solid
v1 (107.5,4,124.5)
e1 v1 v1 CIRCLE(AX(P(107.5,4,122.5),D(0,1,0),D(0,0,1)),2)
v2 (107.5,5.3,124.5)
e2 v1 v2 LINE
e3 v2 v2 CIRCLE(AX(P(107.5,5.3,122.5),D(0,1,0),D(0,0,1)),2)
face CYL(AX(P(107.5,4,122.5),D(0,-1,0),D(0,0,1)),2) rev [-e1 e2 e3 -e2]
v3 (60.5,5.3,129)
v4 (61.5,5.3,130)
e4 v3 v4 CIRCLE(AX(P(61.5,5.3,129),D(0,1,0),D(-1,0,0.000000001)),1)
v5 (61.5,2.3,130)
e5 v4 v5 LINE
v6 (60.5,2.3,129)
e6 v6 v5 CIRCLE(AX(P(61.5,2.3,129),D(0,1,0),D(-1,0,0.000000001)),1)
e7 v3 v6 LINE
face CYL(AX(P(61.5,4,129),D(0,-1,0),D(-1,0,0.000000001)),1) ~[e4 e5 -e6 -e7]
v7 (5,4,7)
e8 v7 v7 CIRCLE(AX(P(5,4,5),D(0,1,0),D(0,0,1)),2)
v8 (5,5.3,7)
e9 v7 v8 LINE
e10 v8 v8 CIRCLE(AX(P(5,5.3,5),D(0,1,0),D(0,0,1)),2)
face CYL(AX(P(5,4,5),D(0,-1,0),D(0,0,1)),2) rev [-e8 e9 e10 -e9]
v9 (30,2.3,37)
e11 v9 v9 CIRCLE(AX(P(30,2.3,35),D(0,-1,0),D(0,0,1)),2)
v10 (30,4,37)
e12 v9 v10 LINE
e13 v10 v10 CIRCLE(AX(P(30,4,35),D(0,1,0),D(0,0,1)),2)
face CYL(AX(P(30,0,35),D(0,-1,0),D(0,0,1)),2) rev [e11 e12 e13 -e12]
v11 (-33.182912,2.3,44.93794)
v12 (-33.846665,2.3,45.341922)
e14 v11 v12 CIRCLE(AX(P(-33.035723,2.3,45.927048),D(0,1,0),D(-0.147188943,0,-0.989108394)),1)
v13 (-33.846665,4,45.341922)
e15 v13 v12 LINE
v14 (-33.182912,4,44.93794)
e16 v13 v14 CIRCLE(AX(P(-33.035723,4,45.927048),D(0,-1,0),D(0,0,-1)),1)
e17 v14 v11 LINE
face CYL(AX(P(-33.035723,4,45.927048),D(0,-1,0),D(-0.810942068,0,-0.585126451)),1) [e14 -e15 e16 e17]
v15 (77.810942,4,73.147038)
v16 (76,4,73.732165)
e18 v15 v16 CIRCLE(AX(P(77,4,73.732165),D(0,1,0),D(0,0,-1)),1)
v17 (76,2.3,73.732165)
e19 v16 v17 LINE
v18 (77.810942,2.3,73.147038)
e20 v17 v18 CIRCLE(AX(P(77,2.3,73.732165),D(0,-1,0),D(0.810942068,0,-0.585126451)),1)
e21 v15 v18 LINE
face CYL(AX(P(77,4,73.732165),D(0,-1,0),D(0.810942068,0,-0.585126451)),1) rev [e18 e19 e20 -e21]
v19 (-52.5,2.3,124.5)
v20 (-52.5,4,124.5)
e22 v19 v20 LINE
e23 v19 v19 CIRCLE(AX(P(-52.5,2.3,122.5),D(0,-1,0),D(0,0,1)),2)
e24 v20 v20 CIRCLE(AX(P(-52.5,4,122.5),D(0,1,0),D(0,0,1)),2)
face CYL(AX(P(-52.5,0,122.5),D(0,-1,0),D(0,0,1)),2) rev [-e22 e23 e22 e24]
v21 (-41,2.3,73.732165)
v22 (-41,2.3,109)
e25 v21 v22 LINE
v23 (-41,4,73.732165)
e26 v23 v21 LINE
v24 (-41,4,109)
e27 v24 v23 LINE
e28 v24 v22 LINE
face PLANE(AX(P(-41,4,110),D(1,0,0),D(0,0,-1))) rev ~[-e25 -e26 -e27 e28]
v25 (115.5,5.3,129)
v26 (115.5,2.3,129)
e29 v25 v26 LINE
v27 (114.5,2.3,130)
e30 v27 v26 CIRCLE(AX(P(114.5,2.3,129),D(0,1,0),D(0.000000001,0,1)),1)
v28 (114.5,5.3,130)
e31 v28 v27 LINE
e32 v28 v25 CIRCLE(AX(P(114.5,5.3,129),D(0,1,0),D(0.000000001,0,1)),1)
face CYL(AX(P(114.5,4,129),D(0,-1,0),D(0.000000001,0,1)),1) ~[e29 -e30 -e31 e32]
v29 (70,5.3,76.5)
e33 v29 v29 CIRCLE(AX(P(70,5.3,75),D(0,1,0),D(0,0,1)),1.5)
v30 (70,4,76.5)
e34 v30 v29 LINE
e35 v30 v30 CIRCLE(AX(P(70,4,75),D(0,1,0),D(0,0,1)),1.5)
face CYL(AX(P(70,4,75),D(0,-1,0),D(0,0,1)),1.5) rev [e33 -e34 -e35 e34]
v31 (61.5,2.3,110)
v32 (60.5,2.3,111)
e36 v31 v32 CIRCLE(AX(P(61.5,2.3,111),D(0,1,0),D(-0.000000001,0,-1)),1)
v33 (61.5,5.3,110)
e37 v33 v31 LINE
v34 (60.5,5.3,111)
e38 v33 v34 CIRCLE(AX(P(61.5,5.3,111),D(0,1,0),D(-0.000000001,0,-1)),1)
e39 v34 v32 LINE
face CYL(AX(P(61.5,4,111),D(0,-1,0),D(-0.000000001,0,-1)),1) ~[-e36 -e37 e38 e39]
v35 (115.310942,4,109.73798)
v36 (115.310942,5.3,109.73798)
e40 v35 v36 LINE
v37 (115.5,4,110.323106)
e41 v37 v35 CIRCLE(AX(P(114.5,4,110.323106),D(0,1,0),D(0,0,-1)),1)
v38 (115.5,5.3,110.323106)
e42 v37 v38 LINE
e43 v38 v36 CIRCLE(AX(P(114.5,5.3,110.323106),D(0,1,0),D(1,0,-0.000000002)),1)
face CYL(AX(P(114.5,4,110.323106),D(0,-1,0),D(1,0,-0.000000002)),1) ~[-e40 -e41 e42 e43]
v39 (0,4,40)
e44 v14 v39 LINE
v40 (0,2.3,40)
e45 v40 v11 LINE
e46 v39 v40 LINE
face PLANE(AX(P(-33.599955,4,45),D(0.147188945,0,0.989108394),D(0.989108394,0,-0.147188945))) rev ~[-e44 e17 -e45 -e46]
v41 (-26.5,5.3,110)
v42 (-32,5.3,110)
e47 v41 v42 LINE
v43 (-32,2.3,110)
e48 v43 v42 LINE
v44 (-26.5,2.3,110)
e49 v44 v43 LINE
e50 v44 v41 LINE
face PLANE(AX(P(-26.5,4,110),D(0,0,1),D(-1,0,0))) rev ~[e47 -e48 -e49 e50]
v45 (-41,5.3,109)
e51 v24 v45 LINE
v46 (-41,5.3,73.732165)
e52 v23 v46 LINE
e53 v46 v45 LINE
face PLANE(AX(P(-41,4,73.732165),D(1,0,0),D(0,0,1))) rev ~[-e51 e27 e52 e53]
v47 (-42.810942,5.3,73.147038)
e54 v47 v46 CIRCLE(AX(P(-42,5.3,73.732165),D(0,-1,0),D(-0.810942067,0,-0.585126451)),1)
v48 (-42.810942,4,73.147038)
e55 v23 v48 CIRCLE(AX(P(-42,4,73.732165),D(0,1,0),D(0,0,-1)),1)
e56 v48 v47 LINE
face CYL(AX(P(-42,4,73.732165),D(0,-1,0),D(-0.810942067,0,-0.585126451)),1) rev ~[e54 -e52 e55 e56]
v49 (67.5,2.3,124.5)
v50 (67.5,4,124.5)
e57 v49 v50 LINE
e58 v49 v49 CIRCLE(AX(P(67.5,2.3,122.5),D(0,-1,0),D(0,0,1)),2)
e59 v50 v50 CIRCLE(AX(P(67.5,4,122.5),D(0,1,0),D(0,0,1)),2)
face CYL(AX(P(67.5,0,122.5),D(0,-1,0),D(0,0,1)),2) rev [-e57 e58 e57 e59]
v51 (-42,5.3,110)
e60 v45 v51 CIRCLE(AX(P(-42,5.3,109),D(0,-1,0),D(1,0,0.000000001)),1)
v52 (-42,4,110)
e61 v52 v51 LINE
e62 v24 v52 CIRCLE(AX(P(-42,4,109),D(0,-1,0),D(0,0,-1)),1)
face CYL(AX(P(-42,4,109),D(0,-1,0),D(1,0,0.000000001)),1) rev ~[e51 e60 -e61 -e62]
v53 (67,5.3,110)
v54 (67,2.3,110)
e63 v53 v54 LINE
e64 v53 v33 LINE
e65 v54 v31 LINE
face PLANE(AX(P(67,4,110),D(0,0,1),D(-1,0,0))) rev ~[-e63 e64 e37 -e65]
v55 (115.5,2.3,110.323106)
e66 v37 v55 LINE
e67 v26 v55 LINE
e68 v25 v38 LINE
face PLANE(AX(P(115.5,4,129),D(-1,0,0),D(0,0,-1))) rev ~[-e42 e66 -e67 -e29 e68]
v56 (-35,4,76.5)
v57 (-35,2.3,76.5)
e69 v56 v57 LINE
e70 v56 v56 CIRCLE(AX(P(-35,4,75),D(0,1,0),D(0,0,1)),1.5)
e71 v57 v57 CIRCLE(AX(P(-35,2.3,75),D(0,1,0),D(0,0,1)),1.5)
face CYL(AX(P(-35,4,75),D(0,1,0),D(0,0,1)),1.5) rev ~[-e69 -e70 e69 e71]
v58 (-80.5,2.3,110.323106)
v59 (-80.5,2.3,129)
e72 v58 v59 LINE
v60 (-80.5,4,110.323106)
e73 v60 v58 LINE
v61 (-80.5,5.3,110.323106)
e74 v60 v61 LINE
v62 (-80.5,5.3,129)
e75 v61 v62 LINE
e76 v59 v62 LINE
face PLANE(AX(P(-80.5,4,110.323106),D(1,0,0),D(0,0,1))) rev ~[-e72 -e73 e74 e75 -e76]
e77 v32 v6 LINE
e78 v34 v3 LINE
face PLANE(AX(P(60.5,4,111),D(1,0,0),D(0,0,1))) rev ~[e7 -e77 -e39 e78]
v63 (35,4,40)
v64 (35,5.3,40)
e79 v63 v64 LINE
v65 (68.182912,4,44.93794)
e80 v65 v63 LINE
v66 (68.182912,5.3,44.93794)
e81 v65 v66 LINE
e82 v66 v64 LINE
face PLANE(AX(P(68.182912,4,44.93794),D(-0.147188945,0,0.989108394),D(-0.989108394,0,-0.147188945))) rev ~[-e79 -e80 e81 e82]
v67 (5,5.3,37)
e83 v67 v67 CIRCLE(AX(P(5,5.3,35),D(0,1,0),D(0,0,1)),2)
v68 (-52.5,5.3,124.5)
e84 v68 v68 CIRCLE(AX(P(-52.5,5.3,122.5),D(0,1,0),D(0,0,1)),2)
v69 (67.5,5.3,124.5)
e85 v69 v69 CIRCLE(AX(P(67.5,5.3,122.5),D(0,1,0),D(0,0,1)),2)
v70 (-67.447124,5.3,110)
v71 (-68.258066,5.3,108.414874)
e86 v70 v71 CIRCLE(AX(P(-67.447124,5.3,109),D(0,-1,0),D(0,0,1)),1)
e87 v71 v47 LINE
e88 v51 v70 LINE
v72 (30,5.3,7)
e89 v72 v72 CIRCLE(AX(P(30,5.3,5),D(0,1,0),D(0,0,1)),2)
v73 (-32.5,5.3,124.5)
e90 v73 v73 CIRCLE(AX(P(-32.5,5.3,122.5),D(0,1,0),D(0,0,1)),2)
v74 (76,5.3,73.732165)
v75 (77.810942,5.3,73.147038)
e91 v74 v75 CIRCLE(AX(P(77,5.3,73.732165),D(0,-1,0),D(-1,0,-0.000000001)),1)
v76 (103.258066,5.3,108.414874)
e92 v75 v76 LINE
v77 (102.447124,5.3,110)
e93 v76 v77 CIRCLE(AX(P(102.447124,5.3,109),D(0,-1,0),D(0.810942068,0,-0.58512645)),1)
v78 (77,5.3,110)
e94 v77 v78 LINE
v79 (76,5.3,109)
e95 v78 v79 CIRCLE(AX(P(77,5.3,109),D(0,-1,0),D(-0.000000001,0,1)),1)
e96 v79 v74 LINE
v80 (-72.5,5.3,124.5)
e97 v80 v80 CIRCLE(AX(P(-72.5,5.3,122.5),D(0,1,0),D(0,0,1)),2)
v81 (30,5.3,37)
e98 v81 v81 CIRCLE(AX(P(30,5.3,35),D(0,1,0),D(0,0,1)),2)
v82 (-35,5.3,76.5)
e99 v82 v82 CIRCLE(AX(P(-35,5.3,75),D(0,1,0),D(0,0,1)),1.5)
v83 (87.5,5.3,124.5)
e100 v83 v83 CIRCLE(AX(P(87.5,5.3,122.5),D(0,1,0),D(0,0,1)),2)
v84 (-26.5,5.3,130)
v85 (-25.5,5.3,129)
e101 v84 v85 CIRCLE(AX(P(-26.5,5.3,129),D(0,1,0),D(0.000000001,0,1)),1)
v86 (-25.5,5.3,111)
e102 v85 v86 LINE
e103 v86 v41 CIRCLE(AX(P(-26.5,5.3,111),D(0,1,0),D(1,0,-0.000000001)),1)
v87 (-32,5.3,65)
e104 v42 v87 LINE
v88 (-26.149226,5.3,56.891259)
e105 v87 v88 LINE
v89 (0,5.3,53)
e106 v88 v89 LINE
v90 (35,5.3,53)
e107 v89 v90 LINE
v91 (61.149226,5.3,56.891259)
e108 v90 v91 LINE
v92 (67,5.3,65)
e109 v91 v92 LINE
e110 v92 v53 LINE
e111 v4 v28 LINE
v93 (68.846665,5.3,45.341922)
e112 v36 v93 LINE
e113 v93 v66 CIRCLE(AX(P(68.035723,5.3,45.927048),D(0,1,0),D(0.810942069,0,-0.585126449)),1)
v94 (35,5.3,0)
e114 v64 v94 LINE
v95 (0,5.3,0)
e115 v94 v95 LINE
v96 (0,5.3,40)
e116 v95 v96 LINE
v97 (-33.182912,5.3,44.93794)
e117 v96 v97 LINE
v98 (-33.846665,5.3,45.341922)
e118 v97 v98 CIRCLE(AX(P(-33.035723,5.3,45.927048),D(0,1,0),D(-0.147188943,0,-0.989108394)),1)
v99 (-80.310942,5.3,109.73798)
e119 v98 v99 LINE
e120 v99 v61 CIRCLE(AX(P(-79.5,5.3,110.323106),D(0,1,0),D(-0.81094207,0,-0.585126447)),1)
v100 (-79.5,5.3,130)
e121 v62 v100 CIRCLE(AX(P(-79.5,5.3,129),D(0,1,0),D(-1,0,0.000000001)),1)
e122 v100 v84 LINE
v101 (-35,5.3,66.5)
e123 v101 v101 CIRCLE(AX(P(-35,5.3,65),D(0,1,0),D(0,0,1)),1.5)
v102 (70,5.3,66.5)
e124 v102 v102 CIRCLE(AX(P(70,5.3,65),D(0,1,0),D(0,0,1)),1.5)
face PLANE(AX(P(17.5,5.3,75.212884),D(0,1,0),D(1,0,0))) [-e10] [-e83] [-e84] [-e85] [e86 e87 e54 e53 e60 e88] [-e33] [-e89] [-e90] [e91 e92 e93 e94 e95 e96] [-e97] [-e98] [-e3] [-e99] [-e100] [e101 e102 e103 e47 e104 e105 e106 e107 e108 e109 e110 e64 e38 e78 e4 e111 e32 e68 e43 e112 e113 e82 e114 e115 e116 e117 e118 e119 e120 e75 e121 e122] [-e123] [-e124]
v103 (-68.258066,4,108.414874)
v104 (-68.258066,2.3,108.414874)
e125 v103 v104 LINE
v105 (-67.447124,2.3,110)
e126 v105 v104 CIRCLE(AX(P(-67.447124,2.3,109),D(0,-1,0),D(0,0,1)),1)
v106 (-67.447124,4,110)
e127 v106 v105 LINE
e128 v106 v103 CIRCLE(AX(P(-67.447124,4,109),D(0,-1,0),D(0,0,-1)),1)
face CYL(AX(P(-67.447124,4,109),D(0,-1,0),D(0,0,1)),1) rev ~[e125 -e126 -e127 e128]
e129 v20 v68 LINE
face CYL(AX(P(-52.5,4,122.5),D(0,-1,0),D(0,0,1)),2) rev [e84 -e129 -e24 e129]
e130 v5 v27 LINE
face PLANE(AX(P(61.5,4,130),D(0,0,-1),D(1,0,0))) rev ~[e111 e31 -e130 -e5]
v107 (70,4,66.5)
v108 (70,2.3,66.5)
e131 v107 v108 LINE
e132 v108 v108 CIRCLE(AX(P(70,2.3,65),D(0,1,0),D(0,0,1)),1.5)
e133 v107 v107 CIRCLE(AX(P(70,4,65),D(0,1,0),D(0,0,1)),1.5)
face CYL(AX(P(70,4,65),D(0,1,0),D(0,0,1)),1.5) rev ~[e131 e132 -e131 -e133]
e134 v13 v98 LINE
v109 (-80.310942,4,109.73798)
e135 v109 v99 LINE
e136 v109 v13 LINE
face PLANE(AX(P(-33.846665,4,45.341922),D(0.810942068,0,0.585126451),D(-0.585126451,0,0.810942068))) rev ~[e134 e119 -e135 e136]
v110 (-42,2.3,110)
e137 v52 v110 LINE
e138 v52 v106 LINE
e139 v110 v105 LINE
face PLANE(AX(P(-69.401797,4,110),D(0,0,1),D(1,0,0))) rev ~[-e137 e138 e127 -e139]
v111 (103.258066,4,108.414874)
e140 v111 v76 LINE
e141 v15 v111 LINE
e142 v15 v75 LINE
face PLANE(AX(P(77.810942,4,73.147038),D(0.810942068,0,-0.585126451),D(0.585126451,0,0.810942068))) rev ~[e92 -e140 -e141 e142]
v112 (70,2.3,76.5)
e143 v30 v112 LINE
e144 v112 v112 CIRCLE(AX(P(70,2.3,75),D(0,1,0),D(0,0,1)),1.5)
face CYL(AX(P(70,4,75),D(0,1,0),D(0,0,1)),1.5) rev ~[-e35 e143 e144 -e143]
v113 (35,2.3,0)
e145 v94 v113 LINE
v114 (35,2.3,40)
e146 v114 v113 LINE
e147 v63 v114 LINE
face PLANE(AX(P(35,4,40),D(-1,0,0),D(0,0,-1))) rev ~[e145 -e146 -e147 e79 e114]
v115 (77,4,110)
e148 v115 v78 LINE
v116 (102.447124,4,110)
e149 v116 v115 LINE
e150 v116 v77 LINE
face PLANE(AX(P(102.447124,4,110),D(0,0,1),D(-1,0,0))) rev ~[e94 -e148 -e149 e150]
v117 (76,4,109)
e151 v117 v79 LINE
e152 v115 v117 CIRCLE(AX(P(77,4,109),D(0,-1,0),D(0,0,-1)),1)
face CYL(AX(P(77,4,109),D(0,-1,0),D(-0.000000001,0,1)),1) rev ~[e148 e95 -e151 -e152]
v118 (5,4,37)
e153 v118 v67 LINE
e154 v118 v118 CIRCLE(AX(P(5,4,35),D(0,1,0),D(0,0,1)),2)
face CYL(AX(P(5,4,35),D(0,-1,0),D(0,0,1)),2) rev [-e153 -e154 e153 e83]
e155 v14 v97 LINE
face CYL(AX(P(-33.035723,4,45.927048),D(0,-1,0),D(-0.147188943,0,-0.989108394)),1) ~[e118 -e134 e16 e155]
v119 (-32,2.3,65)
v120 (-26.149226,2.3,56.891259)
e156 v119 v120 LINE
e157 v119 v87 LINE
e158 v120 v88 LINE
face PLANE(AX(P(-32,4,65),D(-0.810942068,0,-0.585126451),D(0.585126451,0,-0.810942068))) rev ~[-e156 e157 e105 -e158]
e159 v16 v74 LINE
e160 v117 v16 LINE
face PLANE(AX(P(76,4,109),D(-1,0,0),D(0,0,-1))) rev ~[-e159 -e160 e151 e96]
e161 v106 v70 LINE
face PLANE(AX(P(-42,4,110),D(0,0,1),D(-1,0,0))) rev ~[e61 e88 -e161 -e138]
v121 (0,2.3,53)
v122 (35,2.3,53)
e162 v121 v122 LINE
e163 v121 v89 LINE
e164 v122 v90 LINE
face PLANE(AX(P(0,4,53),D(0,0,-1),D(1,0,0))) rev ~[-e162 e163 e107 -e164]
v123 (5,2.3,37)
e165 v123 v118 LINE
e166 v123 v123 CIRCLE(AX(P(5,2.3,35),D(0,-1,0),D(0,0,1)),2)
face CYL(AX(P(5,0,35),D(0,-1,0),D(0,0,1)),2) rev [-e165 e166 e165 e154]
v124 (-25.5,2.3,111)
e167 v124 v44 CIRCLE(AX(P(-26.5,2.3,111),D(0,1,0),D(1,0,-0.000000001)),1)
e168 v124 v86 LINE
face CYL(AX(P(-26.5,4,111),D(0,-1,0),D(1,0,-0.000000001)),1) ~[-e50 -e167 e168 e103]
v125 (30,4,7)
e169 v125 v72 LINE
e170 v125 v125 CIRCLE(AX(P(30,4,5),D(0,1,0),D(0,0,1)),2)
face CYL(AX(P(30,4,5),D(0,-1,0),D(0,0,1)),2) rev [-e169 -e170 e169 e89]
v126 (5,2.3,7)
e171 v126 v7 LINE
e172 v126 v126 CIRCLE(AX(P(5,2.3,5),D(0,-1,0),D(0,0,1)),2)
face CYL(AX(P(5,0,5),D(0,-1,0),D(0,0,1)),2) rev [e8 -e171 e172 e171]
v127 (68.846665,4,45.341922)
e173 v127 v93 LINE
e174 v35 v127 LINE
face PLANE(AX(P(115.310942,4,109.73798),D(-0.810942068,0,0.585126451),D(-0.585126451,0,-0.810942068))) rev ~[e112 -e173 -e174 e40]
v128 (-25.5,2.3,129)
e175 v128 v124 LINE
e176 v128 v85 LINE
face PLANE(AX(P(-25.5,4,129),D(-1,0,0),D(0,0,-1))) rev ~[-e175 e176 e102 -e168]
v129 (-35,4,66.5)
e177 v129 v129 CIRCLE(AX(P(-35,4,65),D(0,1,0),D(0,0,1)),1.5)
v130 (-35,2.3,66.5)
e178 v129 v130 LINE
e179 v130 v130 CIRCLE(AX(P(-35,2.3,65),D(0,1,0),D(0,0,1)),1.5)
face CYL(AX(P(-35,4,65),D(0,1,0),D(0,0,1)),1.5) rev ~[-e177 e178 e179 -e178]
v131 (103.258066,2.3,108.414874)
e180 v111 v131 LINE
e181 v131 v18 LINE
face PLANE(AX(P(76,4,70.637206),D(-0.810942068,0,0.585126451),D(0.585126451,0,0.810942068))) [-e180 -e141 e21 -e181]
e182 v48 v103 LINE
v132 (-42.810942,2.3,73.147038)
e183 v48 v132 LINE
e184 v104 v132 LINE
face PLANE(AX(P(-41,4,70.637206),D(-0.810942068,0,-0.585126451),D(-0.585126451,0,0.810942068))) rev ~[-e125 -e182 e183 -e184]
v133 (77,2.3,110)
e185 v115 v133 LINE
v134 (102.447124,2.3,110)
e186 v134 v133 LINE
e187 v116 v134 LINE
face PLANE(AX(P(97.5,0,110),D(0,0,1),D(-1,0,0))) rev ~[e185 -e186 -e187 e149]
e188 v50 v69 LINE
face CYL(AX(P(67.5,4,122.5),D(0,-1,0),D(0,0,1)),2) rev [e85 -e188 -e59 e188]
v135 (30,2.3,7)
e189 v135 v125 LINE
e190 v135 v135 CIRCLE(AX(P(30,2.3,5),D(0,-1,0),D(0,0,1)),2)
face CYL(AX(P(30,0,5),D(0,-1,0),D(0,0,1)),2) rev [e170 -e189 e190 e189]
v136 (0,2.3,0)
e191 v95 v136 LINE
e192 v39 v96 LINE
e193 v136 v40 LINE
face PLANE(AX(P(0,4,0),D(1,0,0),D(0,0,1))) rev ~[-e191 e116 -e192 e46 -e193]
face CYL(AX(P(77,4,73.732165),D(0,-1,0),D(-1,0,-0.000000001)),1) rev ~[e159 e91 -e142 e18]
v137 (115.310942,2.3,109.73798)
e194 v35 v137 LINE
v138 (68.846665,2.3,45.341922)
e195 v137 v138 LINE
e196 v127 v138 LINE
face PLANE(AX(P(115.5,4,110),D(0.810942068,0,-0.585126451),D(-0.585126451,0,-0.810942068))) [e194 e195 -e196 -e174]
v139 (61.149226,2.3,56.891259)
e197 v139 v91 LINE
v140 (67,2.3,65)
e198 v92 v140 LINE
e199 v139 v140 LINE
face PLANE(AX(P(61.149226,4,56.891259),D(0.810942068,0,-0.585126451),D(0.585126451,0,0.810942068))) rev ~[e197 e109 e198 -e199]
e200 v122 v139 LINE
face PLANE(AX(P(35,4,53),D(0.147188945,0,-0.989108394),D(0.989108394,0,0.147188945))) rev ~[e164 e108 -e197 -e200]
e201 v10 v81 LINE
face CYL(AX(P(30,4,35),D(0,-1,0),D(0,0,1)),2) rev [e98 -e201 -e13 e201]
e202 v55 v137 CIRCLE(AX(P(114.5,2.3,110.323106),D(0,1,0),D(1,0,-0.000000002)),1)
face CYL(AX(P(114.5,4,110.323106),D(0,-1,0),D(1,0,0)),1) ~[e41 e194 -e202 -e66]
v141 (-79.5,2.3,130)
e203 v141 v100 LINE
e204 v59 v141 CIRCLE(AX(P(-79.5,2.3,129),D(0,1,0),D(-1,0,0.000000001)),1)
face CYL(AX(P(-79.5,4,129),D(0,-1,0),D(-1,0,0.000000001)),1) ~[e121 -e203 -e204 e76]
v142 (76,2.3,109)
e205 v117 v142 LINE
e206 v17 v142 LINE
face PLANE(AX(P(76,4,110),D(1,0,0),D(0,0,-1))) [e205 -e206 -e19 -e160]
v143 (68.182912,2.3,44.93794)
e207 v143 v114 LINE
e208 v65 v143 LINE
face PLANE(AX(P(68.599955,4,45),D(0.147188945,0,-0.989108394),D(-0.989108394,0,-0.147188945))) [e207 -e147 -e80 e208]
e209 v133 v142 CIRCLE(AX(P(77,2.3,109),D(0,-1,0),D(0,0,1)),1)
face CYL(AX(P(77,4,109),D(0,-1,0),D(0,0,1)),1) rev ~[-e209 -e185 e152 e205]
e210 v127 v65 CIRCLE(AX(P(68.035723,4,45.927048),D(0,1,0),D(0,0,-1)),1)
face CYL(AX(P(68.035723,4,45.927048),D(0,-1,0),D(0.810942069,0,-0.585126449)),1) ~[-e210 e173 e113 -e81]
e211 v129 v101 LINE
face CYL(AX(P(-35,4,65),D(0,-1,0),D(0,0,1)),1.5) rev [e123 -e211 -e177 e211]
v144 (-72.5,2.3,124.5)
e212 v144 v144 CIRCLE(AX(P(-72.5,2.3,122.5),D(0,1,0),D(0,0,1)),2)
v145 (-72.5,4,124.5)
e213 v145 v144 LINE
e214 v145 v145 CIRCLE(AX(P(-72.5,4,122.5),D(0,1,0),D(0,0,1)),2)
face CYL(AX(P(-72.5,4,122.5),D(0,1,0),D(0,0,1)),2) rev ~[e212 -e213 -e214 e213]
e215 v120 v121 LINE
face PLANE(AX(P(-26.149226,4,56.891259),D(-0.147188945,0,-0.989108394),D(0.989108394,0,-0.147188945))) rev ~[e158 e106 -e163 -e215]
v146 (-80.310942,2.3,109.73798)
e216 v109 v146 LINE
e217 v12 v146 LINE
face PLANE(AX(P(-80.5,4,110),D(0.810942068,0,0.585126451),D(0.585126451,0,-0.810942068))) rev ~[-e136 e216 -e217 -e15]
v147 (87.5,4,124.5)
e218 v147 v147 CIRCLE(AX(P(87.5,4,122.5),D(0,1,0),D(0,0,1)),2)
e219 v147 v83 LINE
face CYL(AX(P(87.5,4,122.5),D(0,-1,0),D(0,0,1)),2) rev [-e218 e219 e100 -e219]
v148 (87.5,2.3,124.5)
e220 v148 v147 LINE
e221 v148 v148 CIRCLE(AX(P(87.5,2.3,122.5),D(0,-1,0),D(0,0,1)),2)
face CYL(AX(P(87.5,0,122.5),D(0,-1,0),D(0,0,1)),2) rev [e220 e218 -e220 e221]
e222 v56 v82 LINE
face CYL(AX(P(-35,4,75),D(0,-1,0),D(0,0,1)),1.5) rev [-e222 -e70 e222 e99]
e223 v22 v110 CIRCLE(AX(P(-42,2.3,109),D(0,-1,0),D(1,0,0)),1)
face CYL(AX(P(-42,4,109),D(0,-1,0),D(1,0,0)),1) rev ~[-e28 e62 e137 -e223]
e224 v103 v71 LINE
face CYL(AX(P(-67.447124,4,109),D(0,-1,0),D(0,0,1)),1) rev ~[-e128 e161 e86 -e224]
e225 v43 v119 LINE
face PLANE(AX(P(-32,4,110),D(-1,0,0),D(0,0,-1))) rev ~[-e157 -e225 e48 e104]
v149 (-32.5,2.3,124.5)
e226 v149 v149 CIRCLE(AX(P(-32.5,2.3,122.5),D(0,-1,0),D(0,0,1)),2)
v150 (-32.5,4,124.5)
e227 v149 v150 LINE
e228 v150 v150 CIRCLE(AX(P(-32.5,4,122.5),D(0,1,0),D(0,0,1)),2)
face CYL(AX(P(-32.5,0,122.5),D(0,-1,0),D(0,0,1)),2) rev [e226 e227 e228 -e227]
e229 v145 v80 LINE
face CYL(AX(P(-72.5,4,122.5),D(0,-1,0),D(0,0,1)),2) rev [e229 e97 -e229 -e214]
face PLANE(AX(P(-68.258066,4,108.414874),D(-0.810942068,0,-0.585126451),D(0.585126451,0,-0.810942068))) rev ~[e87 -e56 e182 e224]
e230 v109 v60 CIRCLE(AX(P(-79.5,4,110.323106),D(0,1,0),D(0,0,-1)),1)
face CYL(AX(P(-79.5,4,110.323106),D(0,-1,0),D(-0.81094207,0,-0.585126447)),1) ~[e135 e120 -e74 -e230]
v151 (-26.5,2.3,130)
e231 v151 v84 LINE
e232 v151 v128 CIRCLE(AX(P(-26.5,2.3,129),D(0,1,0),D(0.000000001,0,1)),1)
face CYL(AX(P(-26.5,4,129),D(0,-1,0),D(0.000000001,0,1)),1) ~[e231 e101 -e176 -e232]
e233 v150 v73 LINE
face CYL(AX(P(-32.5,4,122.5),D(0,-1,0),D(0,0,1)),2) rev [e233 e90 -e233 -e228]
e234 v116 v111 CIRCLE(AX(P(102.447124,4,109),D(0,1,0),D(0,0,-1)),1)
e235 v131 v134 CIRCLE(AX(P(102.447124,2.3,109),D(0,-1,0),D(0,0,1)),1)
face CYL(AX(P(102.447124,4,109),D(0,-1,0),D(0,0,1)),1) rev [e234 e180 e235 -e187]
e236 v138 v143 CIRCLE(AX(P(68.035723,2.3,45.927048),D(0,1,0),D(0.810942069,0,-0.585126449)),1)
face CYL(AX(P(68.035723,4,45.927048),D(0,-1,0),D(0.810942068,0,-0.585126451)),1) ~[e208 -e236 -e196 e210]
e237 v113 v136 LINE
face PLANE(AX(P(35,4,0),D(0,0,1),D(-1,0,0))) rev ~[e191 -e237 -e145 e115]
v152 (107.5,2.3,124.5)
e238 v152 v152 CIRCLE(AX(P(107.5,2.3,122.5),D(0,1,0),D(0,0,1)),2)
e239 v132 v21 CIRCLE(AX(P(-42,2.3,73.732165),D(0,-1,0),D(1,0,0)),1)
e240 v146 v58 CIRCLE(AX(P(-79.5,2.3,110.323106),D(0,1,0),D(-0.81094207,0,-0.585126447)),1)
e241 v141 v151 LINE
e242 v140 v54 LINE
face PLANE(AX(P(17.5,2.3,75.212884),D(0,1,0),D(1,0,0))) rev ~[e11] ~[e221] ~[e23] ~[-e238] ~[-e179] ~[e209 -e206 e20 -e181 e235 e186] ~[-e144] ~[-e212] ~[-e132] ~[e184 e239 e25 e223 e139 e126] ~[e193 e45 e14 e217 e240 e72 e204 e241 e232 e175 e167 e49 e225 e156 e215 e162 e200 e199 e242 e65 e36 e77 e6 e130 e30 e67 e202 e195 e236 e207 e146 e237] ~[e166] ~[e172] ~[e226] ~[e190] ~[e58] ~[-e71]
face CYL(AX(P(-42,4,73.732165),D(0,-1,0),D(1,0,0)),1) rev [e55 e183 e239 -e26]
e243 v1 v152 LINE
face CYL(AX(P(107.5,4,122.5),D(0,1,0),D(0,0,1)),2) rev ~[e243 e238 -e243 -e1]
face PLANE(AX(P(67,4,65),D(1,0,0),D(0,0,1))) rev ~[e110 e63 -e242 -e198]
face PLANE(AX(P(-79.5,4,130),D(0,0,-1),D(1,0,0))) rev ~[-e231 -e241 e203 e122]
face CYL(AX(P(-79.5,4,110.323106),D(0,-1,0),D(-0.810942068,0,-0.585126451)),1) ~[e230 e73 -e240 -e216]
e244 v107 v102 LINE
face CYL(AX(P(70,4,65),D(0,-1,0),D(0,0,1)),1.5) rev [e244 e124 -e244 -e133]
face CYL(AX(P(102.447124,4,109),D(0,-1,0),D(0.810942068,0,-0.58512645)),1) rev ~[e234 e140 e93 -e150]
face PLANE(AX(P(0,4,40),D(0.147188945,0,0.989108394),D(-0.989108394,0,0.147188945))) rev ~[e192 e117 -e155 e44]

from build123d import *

# Parameters (mm, degrees)
SKETCH_1_R          = 2
EXTRUDE_1_DEPTH     = 4
SKETCH_2_R          = 1.5
SKETCH_2_R_2        = 2
EXTRUDE_2_DEPTH     = 4
CUT_EXTRUDE_1_DEPTH = 174.943237868
FILLET_2_R          = 1
FILLET_3_R          = 1
CUT_EXTRUDE_START   = -12.7
CUT_EXTRUDE_2_DEPTH = 11
SKETCH_5_R          = 2
SKETCH_5_R_2        = 1.5
EXTRUDE_3_DEPTH     = 1.3


with BuildPart() as part:
    # 草图1 → 凸台-拉伸1 (new body)
    with BuildSketch(Plane(origin=(0, 0, 0), x_dir=(1, 0, 0), z_dir=(0, 1, 0))):
        Polygon((0, 0), (0, -110), (-62.5, -110), (-62.5, -130), (97.5, -130), (97.5, -110), (35, -110), (35, 0), align=None)
        with Locations(Location((5, -5, 0), (0, 0, 270))):
            Circle(SKETCH_1_R, mode=Mode.SUBTRACT)
        with Locations(Location((30, -5, 0), (0, 0, 270))):
            Circle(SKETCH_1_R, mode=Mode.SUBTRACT)
        with Locations(Location((5, -35, 0), (0, 0, 270))):
            Circle(SKETCH_1_R, mode=Mode.SUBTRACT)
        with Locations(Location((30, -35, 0), (0, 0, 270))):
            Circle(SKETCH_1_R, mode=Mode.SUBTRACT)
        with Locations(Location((-52.5, -122.5, 0), (0, 0, 270))):
            Circle(SKETCH_1_R, mode=Mode.SUBTRACT)
        with Locations(Location((-32.5, -122.5, 0), (0, 0, 270))):
            Circle(SKETCH_1_R, mode=Mode.SUBTRACT)
        with Locations(Location((-12.5, -122.5, 0), (0, 0, 270))):
            Circle(SKETCH_1_R, mode=Mode.SUBTRACT)
        with Locations(Location((7.5, -122.5, 0), (0, 0, 270))):
            Circle(SKETCH_1_R, mode=Mode.SUBTRACT)
        with Locations(Location((27.5, -122.5, 0), (0, 0, 270))):
            Circle(SKETCH_1_R, mode=Mode.SUBTRACT)
        with Locations(Location((47.5, -122.5, 0), (0, 0, 270))):
            Circle(SKETCH_1_R, mode=Mode.SUBTRACT)
        with Locations(Location((67.5, -122.5, 0), (0, 0, 270))):
            Circle(SKETCH_1_R, mode=Mode.SUBTRACT)
        with Locations(Location((87.5, -122.5, 0), (0, 0, 270))):
            Circle(SKETCH_1_R, mode=Mode.SUBTRACT)
    extrude(amount=EXTRUDE_1_DEPTH)

    # 草图2 → 凸台-拉伸2 (add)
    # profile 1 of 2: a face of its own
    with BuildSketch(Plane(origin=(0, 4, 0), x_dir=(1, 0, 0), z_dir=(0, 1, 0))):
        Polygon((0, -40), (0, -53), (-26.149225941, -56.891259047), (-32, -65), (-32, -110), (-41, -110), (-41, -70.637206461), (-69.401796613, -110), (-62.5, -110), (-62.5, -130), (-80.5, -130), (-80.5, -110), (-33.599955214, -45), align=None)
        with Locations(Location((-35, -65, 0), (0, 0, 270))):
            Circle(SKETCH_2_R, mode=Mode.SUBTRACT)
        with Locations(Location((-35, -75, 0), (0, 0, 270))):
            Circle(SKETCH_2_R, mode=Mode.SUBTRACT)
        with Locations(Location((-72.5, -122.5, 0), (0, 0, 270))):
            Circle(SKETCH_2_R_2, mode=Mode.SUBTRACT)
    # profile 2 of 2: a face of its own
    with BuildSketch(Plane(origin=(0, 4, 0), x_dir=(1, 0, 0), z_dir=(0, 1, 0))):
        Polygon((67, -65), (67, -110), (76, -110), (76, -70.637206461), (104.401796613, -110), (97.5, -110), (97.5, -130), (115.5, -130), (115.5, -110), (68.599955214, -45), (35, -40), (35, -53), (61.149225941, -56.891259047), align=None)
        with Locations(Location((70, -65, 0), (0, 0, 270))):
            Circle(SKETCH_2_R, mode=Mode.SUBTRACT)
        with Locations(Location((70, -75, 0), (0, 0, 270))):
            Circle(SKETCH_2_R, mode=Mode.SUBTRACT)
        with Locations(Location((107.5, -122.5, 0), (0, 0, 270))):
            Circle(SKETCH_2_R_2, mode=Mode.SUBTRACT)
    extrude(amount=-EXTRUDE_2_DEPTH)

    # 草图3 → 切除-拉伸1 (cut, through all)
    with BuildSketch(Plane(origin=(0, 4, 0), x_dir=(1, 0, 0), z_dir=(0, 1, 0))):
        Polygon((0, -53), (35, -53), (35, -110), (60.5, -110), (60.5, -130), (-25.5, -130), (-25.5, -110), (0, -110), align=None)
    extrude(amount=-CUT_EXTRUDE_1_DEPTH, mode=Mode.SUBTRACT)

    # 圆角2
    fillet_2_edges = [part.edges().sort_by_distance(p)[0] for p in [
        (76, 2, 70.637206461),
        (104.401796613, 2, 110),
        (76, 2, 110),
        (-41, 2, 70.637206461),
        (-41, 2, 110),
        (-69.401796613, 2, 110),
    ]]
    fillet(fillet_2_edges, radius=FILLET_2_R)

    # 圆角3
    fillet_3_edges = [part.edges().sort_by_distance(p)[0] for p in [
        (115.5, 2, 130),
        (115.5, 2, 110),
        (68.599955214, 2, 45),
        (60.5, 2, 110),
        (60.5, 2, 130),
        (-25.5, 2, 130),
        (-25.5, 2, 110),
        (-33.599955214, 2, 45),
        (-80.5, 2, 110),
        (-80.5, 2, 130),
    ]]
    fillet(fillet_3_edges, radius=FILLET_3_R)

    # 草图4 → 切除-拉伸2 (cut)
    with BuildSketch(Plane(origin=(0, 4, 0), x_dir=(1, 0, 0), z_dir=(0, 1, 0)).offset(CUT_EXTRUDE_START)):
        with BuildLine():
            Line((0, -40), (-33.182912111, -44.937939932))
            ThreePointArc((-33.182912111, -44.937939932), (-33.555630957, -45.072825937), (-33.846665233, -45.341921875))
            Line((-33.846665233, -45.341921875), (-80.310942068, -109.737979661))
            ThreePointArc((-80.310942068, -109.737979661), (-80.451562417, -110.015650479), (-80.5, -110.323106112))
            Line((-80.5, -110.323106112), (-80.5, -129))
            ThreePointArc((-80.5, -129), (-80.207106781, -129.707106781), (-79.5, -130))
            Line((-79.5, -130), (-26.5, -130))
            ThreePointArc((-26.5, -130), (-25.792893219, -129.707106781), (-25.5, -129))
            Line((-25.5, -129), (-25.5, -111))
            ThreePointArc((-25.5, -111), (-25.792893219, -110.292893219), (-26.5, -110))
            Line((-26.5, -110), (-32, -110))
            Line((-32, -110), (-32, -65))
            Line((-32, -65), (-26.149225941, -56.891259047))
            Line((-26.149225941, -56.891259047), (0, -53))
            Line((0, -53), (35, -53))
            Line((35, -53), (61.149225941, -56.891259047))
            Line((61.149225941, -56.891259047), (67, -65))
            Line((67, -65), (67, -110))
            Line((67, -110), (61.5, -110))
            ThreePointArc((61.5, -110), (60.792893219, -110.292893219), (60.5, -111))
            Line((60.5, -111), (60.5, -129))
            ThreePointArc((60.5, -129), (60.792893219, -129.707106781), (61.5, -130))
            Line((61.5, -130), (114.5, -130))
            ThreePointArc((114.5, -130), (115.207106781, -129.707106781), (115.5, -129))
            Line((115.5, -129), (115.5, -110.323106112))
            ThreePointArc((115.5, -110.323106112), (115.451562417, -110.015650479), (115.310942068, -109.737979661))
            Line((115.310942068, -109.737979661), (68.846665233, -45.341921875))
            ThreePointArc((68.846665233, -45.341921875), (68.555630957, -45.072825937), (68.182912111, -44.937939932))
            Line((68.182912111, -44.937939932), (35, -40))
            Line((35, -40), (35, 0))
            Line((35, 0), (0, 0))
            Line((0, 0), (0, -40))
        make_face()
    extrude(amount=CUT_EXTRUDE_2_DEPTH, mode=Mode.SUBTRACT)

    # 草图5 → 凸台-拉伸3 (add)
    with BuildSketch(Plane(origin=(0, 4, 0), x_dir=(1, 0, 0), z_dir=(0, 1, 0))):
        with BuildLine():
            Line((0, -40), (-33.182912111, -44.937939932))
            ThreePointArc((-33.182912111, -44.937939932), (-33.555630957, -45.072825937), (-33.846665233, -45.341921875))
            Line((-33.846665233, -45.341921875), (-80.310942068, -109.737979661))
            ThreePointArc((-80.310942068, -109.737979661), (-80.451562417, -110.015650479), (-80.5, -110.323106112))
            Line((-80.5, -110.323106112), (-80.5, -129))
            ThreePointArc((-80.5, -129), (-80.207106781, -129.707106781), (-79.5, -130))
            Line((-79.5, -130), (-26.5, -130))
            ThreePointArc((-26.5, -130), (-25.792893219, -129.707106781), (-25.5, -129))
            Line((-25.5, -129), (-25.5, -111))
            ThreePointArc((-25.5, -111), (-25.792893219, -110.292893219), (-26.5, -110))
            Line((-26.5, -110), (-32, -110))
            Line((-32, -110), (-32, -65))
            Line((-32, -65), (-26.149225941, -56.891259047))
            Line((-26.149225941, -56.891259047), (0, -53))
            Line((0, -53), (35, -53))
            Line((35, -53), (61.149225941, -56.891259047))
            Line((61.149225941, -56.891259047), (67, -65))
            Line((67, -65), (67, -110))
            Line((67, -110), (61.5, -110))
            ThreePointArc((61.5, -110), (60.792893219, -110.292893219), (60.5, -111))
            Line((60.5, -111), (60.5, -129))
            ThreePointArc((60.5, -129), (60.792893219, -129.707106781), (61.5, -130))
            Line((61.5, -130), (114.5, -130))
            ThreePointArc((114.5, -130), (115.207106781, -129.707106781), (115.5, -129))
            Line((115.5, -129), (115.5, -110.323106112))
            ThreePointArc((115.5, -110.323106112), (115.451562417, -110.015650479), (115.310942068, -109.737979661))
            Line((115.310942068, -109.737979661), (68.846665233, -45.341921875))
            ThreePointArc((68.846665233, -45.341921875), (68.555630957, -45.072825937), (68.182912111, -44.937939932))
            Line((68.182912111, -44.937939932), (35, -40))
            Line((35, -40), (35, 0))
            Line((35, 0), (0, 0))
            Line((0, 0), (0, -40))
        make_face()
        with Locations(Location((30, -5, 0), (0, 0, 270))):
            Circle(SKETCH_5_R, mode=Mode.SUBTRACT)
        with Locations(Location((30, -35, 0), (0, 0, 270))):
            Circle(SKETCH_5_R, mode=Mode.SUBTRACT)
        with Locations(Location((-32.5, -122.5, 0), (0, 0, 270))):
            Circle(SKETCH_5_R, mode=Mode.SUBTRACT)
        with Locations(Location((87.5, -122.5, 0), (0, 0, 270))):
            Circle(SKETCH_5_R, mode=Mode.SUBTRACT)
        with Locations(Location((-72.5, -122.5, 0), (0, 0, 270))):
            Circle(SKETCH_5_R, mode=Mode.SUBTRACT)
        with Locations(Location((-35, -65, 0), (0, 0, 270))):
            Circle(SKETCH_5_R_2, mode=Mode.SUBTRACT)
        with Locations(Location((-35, -75, 0), (0, 0, 270))):
            Circle(SKETCH_5_R_2, mode=Mode.SUBTRACT)
        with Locations(Location((107.5, -122.5, 0), (0, 0, 270))):
            Circle(SKETCH_5_R, mode=Mode.SUBTRACT)
        with Locations(Location((70, -75, 0), (0, 0, 270))):
            Circle(SKETCH_5_R_2, mode=Mode.SUBTRACT)
        with Locations(Location((70, -65, 0), (0, 0, 270))):
            Circle(SKETCH_5_R_2, mode=Mode.SUBTRACT)
        with Locations(Location((67.5, -122.5, 0), (0, 0, 270))):
            Circle(SKETCH_5_R, mode=Mode.SUBTRACT)
        with Locations(Location((-52.5, -122.5, 0), (0, 0, 270))):
            Circle(SKETCH_5_R, mode=Mode.SUBTRACT)
        with Locations(Location((5, -35, 0), (0, 0, 270))):
            Circle(SKETCH_5_R, mode=Mode.SUBTRACT)
        with Locations(Location((5, -5, 0), (0, 0, 270))):
            Circle(SKETCH_5_R, mode=Mode.SUBTRACT)
        with BuildLine():
            Line((102.447123753, -110), (77, -110))
            ThreePointArc((77, -110), (76.292893219, -109.707106781), (76, -109))
            Line((76, -109), (76, -73.732164937))
            ThreePointArc((76, -73.732164937), (76.692544367, -72.78060252), (77.810942068, -73.147038486))
            Line((77.810942068, -73.147038486), (103.258065821, -108.414873549))
            ThreePointArc((103.258065821, -108.414873549), (103.337383954, -109.455452275), (102.447123753, -110))
        make_face(mode=Mode.SUBTRACT)
        with BuildLine():
            Line((-41, -73.732164937), (-41, -109))
            ThreePointArc((-41, -109), (-41.292893219, -109.707106781), (-42, -110))
            Line((-42, -110), (-67.447123753, -110))
            ThreePointArc((-67.447123753, -110), (-68.337383954, -109.455452275), (-68.258065821, -108.414873549))
            Line((-68.258065821, -108.414873549), (-42.810942068, -73.147038486))
            ThreePointArc((-42.810942068, -73.147038486), (-41.692544367, -72.78060252), (-41, -73.732164937))
        make_face(mode=Mode.SUBTRACT)
    extrude(amount=EXTRUDE_3_DEPTH)


solid = part.part
